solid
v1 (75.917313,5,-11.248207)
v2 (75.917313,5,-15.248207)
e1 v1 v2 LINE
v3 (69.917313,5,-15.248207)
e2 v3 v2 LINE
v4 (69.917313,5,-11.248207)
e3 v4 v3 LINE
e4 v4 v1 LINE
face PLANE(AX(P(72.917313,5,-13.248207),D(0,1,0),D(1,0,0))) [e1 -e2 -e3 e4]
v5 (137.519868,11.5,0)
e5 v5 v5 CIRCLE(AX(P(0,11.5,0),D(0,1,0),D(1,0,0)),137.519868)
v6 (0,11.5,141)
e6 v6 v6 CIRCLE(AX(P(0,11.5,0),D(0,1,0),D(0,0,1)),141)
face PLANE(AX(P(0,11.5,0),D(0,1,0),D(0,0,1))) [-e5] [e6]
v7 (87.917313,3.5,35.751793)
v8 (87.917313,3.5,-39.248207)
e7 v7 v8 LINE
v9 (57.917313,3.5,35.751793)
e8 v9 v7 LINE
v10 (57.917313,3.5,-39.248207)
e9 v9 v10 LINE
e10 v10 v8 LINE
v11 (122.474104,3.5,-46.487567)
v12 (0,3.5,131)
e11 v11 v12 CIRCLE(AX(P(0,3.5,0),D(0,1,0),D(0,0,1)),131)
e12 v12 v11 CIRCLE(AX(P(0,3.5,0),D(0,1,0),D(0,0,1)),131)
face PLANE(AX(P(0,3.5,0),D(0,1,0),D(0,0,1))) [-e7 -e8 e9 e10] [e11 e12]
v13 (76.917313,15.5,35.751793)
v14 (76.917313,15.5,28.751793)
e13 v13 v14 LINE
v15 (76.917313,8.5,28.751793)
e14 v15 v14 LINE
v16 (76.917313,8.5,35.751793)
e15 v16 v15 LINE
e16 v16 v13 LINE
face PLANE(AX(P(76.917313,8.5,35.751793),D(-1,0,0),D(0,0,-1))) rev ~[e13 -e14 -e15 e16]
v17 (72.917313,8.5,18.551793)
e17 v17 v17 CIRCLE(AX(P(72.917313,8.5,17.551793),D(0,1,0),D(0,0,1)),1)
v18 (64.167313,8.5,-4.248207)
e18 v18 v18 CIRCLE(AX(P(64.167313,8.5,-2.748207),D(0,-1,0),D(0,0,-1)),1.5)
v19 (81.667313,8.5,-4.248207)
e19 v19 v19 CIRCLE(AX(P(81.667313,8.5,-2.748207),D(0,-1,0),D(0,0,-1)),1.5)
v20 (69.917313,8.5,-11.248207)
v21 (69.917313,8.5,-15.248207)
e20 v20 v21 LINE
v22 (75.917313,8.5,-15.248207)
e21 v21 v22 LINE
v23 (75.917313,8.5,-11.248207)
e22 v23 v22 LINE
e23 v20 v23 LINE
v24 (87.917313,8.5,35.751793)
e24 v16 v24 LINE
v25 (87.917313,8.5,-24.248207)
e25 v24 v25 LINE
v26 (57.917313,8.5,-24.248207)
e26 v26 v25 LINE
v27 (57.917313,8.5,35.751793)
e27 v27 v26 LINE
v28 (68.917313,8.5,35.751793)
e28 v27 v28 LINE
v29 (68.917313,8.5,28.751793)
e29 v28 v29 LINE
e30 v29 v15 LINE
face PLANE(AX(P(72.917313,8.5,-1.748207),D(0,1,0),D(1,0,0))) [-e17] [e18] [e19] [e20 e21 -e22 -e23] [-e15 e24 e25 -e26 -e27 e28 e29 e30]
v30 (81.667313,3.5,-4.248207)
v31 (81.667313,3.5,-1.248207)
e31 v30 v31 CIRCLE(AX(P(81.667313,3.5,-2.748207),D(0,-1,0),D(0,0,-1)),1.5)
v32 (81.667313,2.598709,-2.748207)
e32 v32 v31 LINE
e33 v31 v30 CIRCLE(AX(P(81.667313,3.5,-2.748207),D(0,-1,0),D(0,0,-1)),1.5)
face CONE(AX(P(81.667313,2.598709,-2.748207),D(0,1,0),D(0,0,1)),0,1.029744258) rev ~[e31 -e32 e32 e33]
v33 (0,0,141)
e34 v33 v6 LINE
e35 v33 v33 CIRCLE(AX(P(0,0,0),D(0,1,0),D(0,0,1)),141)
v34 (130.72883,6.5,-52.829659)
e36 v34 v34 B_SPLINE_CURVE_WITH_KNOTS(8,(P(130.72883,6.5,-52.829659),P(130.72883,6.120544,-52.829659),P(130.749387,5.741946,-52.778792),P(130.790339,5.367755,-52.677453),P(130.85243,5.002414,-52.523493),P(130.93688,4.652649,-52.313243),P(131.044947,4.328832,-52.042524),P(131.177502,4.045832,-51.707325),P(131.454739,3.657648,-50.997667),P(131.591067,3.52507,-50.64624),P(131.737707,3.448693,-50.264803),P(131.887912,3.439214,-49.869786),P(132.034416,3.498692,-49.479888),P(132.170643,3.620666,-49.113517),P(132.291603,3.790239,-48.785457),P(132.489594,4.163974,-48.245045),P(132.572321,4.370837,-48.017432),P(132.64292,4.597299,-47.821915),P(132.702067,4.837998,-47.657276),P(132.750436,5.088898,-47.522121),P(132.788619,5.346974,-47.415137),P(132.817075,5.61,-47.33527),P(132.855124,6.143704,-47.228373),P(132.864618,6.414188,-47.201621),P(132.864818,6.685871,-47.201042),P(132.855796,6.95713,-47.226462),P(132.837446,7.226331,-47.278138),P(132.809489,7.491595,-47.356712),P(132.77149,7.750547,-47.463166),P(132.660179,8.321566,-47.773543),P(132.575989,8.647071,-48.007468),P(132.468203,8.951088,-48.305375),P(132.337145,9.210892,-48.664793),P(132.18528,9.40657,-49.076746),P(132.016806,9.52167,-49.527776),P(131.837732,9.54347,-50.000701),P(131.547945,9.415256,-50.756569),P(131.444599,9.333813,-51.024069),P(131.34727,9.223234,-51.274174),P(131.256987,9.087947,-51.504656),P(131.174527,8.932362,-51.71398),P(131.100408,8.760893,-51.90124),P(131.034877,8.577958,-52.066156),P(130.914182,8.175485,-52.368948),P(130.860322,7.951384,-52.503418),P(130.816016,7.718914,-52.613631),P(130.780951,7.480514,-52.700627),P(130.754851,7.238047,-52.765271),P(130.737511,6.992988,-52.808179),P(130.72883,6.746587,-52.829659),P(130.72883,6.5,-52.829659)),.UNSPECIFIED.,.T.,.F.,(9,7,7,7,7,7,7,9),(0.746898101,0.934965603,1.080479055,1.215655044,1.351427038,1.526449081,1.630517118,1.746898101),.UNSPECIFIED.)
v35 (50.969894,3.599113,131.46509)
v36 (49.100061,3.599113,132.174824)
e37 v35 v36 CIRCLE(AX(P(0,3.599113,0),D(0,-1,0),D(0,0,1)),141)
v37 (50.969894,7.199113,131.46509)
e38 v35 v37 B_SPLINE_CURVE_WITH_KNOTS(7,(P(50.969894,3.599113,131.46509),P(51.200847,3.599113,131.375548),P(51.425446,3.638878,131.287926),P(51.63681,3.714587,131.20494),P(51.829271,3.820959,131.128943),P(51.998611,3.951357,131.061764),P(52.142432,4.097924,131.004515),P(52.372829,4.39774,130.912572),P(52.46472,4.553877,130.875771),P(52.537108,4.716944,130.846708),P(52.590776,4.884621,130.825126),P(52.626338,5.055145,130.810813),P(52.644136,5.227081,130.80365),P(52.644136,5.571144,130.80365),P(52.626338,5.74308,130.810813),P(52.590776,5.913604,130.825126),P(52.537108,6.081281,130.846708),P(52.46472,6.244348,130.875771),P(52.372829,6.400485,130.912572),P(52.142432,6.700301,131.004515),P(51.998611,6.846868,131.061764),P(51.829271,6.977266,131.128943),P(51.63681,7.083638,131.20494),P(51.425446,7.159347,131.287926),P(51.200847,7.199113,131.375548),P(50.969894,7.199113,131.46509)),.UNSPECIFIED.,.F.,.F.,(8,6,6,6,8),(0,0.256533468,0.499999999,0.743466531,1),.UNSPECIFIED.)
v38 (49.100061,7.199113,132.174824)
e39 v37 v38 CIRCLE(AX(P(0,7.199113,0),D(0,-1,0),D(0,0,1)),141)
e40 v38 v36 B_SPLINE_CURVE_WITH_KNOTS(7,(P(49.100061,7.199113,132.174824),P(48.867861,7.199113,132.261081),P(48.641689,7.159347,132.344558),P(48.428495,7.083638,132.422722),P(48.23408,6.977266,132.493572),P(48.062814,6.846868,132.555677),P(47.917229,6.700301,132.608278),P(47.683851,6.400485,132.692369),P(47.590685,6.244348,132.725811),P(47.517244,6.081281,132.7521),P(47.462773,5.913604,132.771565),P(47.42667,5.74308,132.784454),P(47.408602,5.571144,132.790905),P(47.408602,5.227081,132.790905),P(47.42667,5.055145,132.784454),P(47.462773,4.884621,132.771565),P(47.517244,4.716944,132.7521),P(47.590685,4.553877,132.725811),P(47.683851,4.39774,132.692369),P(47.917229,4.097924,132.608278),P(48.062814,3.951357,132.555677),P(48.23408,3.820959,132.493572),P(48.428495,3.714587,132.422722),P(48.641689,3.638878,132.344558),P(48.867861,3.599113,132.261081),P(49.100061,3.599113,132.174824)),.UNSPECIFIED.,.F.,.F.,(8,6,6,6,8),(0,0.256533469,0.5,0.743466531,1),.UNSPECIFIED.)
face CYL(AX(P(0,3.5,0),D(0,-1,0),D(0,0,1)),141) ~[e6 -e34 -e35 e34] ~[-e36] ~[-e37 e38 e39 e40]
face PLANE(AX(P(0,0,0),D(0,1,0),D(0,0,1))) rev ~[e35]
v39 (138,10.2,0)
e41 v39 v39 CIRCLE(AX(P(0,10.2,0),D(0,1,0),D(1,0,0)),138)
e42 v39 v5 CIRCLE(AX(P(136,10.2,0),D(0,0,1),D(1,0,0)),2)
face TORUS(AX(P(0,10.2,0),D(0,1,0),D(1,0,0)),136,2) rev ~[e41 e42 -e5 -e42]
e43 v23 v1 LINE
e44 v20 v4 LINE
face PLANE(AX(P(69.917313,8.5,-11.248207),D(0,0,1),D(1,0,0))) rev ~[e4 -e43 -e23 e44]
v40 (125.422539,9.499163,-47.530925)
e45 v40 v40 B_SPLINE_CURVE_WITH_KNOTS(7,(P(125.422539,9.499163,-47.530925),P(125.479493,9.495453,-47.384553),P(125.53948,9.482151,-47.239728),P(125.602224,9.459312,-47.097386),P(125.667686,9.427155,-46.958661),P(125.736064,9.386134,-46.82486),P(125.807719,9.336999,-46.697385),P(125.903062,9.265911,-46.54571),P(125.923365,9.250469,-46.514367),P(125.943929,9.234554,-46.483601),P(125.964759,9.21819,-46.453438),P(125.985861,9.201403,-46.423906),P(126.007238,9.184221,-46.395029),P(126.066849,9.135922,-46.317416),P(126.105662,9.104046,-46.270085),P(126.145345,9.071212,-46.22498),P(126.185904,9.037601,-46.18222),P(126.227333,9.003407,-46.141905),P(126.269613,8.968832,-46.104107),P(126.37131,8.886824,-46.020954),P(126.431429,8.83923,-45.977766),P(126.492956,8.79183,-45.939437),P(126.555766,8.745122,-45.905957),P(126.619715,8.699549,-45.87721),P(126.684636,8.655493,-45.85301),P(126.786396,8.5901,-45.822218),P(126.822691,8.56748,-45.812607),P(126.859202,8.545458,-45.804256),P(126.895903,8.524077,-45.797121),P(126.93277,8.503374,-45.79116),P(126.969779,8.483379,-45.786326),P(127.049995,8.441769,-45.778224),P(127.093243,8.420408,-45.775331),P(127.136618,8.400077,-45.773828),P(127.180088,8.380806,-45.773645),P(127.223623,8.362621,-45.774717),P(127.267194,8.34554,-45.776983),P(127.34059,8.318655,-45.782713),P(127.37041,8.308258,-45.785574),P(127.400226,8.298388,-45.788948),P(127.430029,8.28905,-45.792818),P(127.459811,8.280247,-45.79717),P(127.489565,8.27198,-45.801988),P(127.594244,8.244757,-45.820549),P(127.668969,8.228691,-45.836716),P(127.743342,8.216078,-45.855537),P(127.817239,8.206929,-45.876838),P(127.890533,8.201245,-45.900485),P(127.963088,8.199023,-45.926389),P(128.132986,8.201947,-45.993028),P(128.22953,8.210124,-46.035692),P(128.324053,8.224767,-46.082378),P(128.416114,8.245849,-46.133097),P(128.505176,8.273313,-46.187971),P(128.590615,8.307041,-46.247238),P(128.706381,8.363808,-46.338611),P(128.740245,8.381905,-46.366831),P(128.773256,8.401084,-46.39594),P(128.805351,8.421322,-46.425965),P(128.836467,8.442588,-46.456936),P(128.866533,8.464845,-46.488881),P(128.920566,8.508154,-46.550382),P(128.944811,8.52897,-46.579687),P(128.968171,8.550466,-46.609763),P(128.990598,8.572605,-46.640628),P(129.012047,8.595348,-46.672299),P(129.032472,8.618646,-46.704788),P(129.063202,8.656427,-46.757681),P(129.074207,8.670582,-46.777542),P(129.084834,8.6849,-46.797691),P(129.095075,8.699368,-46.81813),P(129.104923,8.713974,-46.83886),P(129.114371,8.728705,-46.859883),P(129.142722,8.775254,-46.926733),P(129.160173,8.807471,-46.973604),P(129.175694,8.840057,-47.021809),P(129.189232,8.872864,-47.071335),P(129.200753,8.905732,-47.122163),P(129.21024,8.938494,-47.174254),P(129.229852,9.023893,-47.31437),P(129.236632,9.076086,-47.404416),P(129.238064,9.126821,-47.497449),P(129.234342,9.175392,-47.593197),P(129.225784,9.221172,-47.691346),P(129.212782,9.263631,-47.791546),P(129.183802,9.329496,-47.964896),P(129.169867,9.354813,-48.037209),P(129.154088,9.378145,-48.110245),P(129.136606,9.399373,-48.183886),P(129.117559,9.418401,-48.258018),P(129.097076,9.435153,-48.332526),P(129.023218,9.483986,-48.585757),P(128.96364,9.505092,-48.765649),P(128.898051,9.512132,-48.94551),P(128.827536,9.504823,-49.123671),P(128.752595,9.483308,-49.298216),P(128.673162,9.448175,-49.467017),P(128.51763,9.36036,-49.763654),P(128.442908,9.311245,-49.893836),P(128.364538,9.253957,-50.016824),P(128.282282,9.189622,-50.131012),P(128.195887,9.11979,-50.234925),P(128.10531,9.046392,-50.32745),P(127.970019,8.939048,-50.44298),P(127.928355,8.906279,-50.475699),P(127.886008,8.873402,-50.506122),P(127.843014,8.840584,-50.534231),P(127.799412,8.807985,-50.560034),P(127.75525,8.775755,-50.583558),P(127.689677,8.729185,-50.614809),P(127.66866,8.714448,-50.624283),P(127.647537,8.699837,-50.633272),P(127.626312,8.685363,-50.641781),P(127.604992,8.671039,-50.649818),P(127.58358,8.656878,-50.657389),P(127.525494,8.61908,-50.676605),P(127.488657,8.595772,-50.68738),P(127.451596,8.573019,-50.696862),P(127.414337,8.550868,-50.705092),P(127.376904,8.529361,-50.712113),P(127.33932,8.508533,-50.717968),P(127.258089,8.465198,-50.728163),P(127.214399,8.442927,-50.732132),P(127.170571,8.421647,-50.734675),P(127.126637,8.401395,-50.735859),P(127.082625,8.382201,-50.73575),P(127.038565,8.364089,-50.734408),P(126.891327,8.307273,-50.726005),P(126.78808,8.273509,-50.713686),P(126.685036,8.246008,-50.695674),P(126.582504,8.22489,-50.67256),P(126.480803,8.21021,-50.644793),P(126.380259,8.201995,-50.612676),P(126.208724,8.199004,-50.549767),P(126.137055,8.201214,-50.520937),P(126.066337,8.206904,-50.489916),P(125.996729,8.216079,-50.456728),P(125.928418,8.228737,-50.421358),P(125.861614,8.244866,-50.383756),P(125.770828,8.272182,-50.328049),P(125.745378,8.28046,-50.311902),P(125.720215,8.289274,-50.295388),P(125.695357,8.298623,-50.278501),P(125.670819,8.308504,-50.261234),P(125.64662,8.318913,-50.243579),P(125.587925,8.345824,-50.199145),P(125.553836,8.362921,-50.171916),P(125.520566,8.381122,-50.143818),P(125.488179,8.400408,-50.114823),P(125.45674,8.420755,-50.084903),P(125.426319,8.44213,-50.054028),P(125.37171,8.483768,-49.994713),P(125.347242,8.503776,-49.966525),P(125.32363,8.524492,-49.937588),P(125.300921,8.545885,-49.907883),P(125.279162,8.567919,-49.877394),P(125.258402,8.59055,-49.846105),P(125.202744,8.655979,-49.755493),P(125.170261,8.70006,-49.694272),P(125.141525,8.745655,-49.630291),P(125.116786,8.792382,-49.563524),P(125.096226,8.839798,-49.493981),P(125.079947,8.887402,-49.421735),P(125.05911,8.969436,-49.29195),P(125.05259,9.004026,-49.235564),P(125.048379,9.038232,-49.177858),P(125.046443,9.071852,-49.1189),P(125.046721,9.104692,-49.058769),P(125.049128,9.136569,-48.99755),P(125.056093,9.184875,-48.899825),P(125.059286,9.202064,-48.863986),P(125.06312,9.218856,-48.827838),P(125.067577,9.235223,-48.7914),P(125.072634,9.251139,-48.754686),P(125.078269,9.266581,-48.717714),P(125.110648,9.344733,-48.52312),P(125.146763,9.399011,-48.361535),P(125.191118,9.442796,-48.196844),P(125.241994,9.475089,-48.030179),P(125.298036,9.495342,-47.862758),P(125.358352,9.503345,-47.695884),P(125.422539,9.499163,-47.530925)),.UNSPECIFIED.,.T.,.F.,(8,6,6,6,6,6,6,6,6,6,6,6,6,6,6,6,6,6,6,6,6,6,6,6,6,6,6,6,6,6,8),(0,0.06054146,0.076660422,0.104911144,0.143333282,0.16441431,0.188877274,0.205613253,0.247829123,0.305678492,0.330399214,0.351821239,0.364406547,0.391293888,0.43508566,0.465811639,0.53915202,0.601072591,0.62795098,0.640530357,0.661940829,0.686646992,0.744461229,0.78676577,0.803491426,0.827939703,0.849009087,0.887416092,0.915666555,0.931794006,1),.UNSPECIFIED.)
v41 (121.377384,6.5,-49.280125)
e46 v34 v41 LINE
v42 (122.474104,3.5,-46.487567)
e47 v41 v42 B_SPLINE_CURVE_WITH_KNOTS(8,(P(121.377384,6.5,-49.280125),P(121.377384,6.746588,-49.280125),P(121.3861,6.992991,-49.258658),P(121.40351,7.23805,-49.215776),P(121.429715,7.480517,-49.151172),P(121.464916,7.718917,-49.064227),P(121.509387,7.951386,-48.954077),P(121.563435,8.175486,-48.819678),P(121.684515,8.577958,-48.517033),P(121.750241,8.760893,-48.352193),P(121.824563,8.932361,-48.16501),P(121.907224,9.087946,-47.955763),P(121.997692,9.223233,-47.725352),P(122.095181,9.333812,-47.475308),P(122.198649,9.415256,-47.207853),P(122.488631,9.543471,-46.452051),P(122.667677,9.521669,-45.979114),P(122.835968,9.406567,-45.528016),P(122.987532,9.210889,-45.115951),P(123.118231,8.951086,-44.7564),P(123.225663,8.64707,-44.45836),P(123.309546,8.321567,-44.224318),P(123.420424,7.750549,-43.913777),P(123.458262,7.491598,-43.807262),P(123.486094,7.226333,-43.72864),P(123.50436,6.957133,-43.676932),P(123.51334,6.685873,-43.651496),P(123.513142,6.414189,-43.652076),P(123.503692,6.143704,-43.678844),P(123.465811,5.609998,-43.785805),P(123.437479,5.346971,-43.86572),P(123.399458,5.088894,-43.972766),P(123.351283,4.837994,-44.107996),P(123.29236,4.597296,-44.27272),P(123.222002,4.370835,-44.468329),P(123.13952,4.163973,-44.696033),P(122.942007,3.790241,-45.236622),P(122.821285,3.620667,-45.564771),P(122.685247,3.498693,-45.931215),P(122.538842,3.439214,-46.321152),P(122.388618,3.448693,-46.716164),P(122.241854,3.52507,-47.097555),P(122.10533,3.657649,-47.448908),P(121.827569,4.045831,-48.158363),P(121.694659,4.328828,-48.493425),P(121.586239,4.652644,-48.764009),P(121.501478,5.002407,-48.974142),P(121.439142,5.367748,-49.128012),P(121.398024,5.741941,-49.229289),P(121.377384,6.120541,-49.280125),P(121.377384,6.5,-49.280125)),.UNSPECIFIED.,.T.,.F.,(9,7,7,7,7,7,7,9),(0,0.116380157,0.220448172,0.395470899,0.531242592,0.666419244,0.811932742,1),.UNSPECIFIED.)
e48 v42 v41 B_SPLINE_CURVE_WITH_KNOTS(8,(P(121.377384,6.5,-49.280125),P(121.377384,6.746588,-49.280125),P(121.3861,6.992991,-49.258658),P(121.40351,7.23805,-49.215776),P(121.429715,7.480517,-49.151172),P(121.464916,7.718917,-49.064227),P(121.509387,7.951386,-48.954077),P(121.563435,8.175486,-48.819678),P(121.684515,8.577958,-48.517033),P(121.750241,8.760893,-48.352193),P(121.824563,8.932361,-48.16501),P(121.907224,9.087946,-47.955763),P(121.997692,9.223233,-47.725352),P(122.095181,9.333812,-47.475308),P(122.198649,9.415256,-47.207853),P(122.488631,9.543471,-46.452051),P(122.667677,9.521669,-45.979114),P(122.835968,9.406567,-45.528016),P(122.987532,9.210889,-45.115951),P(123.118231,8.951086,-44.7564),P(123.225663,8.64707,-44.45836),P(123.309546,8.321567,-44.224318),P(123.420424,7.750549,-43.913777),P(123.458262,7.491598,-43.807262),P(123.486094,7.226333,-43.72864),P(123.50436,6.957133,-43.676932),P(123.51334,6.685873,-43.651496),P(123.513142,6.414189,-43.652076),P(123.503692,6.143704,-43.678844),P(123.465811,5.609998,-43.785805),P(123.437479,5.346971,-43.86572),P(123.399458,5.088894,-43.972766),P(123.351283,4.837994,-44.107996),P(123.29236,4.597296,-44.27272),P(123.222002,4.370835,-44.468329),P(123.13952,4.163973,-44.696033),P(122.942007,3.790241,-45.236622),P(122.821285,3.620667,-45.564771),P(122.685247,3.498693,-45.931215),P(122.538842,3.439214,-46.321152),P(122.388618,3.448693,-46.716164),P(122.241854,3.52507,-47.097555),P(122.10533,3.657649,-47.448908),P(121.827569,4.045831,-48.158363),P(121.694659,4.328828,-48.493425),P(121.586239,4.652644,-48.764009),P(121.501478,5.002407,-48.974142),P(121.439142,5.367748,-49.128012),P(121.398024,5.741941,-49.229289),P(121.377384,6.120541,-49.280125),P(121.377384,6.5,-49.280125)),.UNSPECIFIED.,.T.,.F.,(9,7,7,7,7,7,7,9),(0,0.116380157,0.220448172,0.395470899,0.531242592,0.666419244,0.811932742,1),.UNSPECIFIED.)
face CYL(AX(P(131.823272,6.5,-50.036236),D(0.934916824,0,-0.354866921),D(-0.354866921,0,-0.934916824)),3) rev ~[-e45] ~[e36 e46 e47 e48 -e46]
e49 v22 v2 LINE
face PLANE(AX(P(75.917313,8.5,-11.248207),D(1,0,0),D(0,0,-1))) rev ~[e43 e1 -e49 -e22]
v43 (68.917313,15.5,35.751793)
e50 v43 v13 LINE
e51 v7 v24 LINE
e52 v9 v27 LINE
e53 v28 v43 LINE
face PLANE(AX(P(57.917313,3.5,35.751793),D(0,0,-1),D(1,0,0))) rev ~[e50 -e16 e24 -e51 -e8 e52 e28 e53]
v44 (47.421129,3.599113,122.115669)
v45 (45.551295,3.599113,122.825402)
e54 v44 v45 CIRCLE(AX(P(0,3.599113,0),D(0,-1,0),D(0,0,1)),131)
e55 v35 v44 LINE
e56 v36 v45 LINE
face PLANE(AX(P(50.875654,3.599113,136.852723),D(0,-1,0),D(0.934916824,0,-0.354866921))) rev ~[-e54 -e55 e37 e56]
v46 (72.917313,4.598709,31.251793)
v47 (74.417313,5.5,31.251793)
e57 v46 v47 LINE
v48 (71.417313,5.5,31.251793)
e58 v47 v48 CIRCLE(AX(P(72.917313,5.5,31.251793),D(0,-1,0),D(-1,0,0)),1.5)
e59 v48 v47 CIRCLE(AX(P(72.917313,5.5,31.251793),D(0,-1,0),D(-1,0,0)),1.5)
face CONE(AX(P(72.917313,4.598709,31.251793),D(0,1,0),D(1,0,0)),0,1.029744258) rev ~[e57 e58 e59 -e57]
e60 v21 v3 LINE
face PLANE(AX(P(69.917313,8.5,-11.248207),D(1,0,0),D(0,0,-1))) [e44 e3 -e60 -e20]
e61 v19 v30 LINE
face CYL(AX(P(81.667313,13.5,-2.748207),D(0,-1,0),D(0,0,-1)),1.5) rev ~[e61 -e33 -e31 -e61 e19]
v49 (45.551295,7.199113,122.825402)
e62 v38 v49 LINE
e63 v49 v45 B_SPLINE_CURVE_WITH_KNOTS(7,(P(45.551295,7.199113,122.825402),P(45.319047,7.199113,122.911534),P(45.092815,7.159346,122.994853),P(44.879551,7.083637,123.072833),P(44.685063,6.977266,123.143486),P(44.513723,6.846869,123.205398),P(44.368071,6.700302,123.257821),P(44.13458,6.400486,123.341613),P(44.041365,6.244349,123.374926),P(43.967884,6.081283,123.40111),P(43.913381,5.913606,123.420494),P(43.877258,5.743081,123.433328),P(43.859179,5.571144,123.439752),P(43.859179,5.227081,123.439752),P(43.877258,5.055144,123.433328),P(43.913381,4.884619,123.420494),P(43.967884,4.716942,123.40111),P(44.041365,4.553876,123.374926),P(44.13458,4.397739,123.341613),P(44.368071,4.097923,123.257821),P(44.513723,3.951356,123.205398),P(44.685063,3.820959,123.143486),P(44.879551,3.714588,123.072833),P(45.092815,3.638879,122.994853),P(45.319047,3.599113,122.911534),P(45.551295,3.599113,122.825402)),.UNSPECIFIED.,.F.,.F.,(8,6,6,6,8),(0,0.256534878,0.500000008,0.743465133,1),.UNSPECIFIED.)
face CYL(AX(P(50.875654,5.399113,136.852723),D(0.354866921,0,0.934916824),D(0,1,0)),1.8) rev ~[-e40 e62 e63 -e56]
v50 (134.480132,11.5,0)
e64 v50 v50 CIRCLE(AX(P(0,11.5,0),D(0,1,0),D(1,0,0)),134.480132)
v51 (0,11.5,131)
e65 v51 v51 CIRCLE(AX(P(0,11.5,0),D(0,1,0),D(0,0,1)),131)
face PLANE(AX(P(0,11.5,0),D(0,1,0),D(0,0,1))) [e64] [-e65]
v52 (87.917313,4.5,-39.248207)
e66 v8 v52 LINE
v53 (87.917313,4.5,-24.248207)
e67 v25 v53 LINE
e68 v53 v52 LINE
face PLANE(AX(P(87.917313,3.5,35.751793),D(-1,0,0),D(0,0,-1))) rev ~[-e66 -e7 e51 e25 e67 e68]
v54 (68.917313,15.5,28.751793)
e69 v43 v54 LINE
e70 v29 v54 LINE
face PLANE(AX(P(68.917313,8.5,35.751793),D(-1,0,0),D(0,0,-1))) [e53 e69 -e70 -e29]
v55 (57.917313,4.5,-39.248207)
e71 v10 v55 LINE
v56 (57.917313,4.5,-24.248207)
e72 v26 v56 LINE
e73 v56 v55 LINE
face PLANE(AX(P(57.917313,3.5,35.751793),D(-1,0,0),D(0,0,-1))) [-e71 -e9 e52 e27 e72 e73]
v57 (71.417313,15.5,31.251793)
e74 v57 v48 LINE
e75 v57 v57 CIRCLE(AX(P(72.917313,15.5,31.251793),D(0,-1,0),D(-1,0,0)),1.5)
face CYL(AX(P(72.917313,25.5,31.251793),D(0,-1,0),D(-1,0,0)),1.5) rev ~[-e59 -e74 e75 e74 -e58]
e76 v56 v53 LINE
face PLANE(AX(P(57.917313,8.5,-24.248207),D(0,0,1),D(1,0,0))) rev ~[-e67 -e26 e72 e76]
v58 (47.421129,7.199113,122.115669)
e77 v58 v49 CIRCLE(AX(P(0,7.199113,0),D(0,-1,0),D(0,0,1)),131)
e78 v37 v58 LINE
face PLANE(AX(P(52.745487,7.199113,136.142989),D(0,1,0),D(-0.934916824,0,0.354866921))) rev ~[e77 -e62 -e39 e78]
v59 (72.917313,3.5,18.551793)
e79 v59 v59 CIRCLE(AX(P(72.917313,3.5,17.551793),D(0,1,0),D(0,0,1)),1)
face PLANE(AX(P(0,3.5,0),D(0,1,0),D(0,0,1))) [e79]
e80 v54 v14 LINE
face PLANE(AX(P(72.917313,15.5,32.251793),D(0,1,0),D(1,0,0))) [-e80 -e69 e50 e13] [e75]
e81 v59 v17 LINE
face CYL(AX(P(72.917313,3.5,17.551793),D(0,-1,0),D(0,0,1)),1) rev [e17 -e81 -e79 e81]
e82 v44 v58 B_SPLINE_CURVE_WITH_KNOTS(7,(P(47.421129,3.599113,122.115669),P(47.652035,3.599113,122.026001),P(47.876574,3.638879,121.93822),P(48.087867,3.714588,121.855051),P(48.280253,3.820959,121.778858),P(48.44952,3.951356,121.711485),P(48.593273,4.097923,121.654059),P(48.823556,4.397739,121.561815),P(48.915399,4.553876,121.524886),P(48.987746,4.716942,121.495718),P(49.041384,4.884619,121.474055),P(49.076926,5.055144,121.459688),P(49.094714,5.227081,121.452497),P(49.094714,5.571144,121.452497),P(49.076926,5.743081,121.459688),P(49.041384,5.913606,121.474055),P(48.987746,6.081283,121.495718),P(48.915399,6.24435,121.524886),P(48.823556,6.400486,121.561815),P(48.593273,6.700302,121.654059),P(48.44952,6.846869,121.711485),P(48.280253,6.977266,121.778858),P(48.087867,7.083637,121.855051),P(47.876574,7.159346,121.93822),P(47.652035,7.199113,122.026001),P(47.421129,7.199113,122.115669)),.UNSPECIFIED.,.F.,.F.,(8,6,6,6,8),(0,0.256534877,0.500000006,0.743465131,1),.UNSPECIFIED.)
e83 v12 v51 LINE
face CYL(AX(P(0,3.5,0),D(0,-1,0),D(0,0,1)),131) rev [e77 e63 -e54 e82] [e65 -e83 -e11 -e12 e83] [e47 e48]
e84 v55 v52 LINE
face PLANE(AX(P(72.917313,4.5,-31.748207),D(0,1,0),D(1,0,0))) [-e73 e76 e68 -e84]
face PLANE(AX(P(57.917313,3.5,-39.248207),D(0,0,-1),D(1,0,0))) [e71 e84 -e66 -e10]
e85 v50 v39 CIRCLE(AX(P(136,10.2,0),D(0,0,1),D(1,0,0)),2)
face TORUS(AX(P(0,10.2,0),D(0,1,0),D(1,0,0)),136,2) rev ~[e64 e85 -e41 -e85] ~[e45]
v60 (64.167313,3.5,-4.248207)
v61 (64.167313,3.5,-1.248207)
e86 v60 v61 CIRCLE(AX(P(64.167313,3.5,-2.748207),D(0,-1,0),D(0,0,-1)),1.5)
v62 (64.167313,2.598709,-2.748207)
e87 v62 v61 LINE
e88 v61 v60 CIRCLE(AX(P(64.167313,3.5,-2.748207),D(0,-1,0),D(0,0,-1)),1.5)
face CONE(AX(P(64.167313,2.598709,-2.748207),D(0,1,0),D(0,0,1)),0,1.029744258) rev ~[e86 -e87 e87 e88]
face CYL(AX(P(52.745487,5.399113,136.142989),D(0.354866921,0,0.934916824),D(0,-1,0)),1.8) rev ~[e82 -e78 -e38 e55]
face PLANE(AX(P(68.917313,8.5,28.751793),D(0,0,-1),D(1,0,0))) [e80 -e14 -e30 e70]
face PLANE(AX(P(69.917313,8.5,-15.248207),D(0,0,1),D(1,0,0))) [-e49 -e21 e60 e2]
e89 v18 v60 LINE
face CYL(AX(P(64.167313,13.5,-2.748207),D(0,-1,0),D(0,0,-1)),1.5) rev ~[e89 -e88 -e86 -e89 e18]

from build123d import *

# Parameters (mm, degrees)
SKETCH1_R                 = 141
BOSS_EXTRUDE1_DEPTH       = 3.5
SKETCH2_R                 = 141
SKETCH2_R_2               = 131
BOSS_EXTRUDE2_DEPTH       = 8
SKETCH5_R                 = 2
CUT_EXTRUDE3_DEPTH        = 5
CUT_EXTRUDE3_DEPTH_BACK   = 15
SKETCH7_W                 = 30
SKETCH7_H                 = 75
SKETCH7_R                 = 1
BOSS_EXTRUDE3_DEPTH       = 5
SKETCH8_W                 = 8
SKETCH8_H                 = 7
BOSS_EXTRUDE4_DEPTH       = 7
SKETCH9_W                 = 6
SKETCH9_H                 = 4
CUT_EXTRUDE6_DEPTH        = 3.5
F_3_0MM_DOWEL_HOLE2_D     = 3
F_3_0MM_DOWEL_HOLE2_DEPTH = 10
F_3_0MM_DOWEL_HOLE2_TIP   = 0.901290929
F_3_0MM_DOWEL_HOLE3_D     = 3
F_3_0MM_DOWEL_HOLE3_DEPTH = 5
F_3_0MM_DOWEL_HOLE3_TIP   = 0.901290929
SKETCH10_W                = 30
SKETCH10_H                = 15
CUT_EXTRUDE7_DEPTH        = 4
SKETCH15_R                = 3
CUT_EXTRUDE9_DEPTH        = 15


with BuildPart() as part:
    # Sketch1 → Boss-Extrude1 (new body)
    with BuildSketch(Plane(origin=(0, 0, 0), x_dir=(1, 0, 0), z_dir=(0, 1, 0))):
        Circle(SKETCH1_R)
    extrude(amount=BOSS_EXTRUDE1_DEPTH)

    # Sketch2 → Boss-Extrude2 (add)
    with BuildSketch(Plane(origin=(0, 3.5, 0), x_dir=(1, 0, 0), z_dir=(0, 1, 0))):
        Circle(SKETCH2_R)
        Circle(SKETCH2_R_2, mode=Mode.SUBTRACT)
    extrude(amount=BOSS_EXTRUDE2_DEPTH)

    # Cut-Sweep1: sweep along a path in Sketch3
    with BuildLine(Plane(origin=(0, 11.5, 0), x_dir=(1, 0, 0), z_dir=(0, 1, 0))) as cut_sweep1_path:
        CenterArc((0, 0), 136, 0, 360)
    # Sketch5 → Cut-Sweep1 (sweep, cut)
    with BuildSketch(Plane(origin=(0, 0, 0), x_dir=(0.35486692076616666, 0, 0.934916824399871), z_dir=(-0.9349168243998711, 0, 0.35486692076616666))):
        with Locations((136, 10.2)):
            Circle(SKETCH5_R)
    sweep(path=cut_sweep1_path.line, mode=Mode.SUBTRACT)

    # Sketch6 → Cut-Extrude3 (cut, two sides: drawn at the far end of the back side and taken through both)
    with BuildSketch(Plane(origin=(46.48756662, 0, 122.474103996), x_dir=(-0.9349168243998711, 0, 0.3548669207661666), z_dir=(-0.3548669207661666, 0, -0.9349168243998711)).offset(-CUT_EXTRUDE3_DEPTH_BACK)):
        with BuildLine():
            Line((1, 3.599112528), (-1, 3.599112528))
            ThreePointArc((-1, 3.599112528), (-2.8, 5.399112528), (-1, 7.199112528))
            Line((-1, 7.199112528), (1, 7.199112528))
            ThreePointArc((1, 7.199112528), (2.8, 5.399112528), (1, 3.599112528))
        make_face()
    extrude(amount=CUT_EXTRUDE3_DEPTH + CUT_EXTRUDE3_DEPTH_BACK, mode=Mode.SUBTRACT)

    # Sketch7 → Boss-Extrude3 (add)
    with BuildSketch(Plane(origin=(0, 3.5, 0), x_dir=(1, 0, 0), z_dir=(0, 1, 0))):
        with Locations((72.91731325, 1.748207258)):
            Rectangle(SKETCH7_W, SKETCH7_H)
        with Locations((72.91731325, -17.551792742)):
            Circle(SKETCH7_R, mode=Mode.SUBTRACT)
    extrude(amount=BOSS_EXTRUDE3_DEPTH)

    # Sketch8 → Boss-Extrude4 (add)
    with BuildSketch(Plane(origin=(0, 8.5, 0), x_dir=(1, 0, 0), z_dir=(0, 1, 0))):
        with Locations((72.91731325, -32.251792742)):
            Rectangle(SKETCH8_W, SKETCH8_H)
    extrude(amount=BOSS_EXTRUDE4_DEPTH)

    # Sketch9 → Cut-Extrude6 (cut)
    with BuildSketch(Plane(origin=(0, 8.5, 0), x_dir=(1, 0, 0), z_dir=(0, 1, 0))):
        with Locations((72.91731325, 13.248207258)):
            Rectangle(SKETCH9_W, SKETCH9_H)
    extrude(amount=-CUT_EXTRUDE6_DEPTH, mode=Mode.SUBTRACT)

    # Ø3.0mm Dowel Hole2
    with Locations(Plane(origin=(0, 15.5, 0), x_dir=(1, 0, 0), z_dir=(0, 1, 0))):
        with Locations((72.91731325, -31.251792742)):
            Hole(F_3_0MM_DOWEL_HOLE2_D / 2, depth=F_3_0MM_DOWEL_HOLE2_DEPTH)
            with Locations((0, 0, -(F_3_0MM_DOWEL_HOLE2_DEPTH + F_3_0MM_DOWEL_HOLE2_TIP / 2))):  # 118° drill point
                Cone(0, F_3_0MM_DOWEL_HOLE2_D / 2, F_3_0MM_DOWEL_HOLE2_TIP, mode=Mode.SUBTRACT)

    # Ø3.0mm Dowel Hole3
    with Locations(Plane(origin=(64.16731325, 8.5, -2.748207258), x_dir=(0, 0, 1), z_dir=(0, 1, 0))):
        with Locations((0, 0), (0, 17.5)):
            Hole(F_3_0MM_DOWEL_HOLE3_D / 2, depth=F_3_0MM_DOWEL_HOLE3_DEPTH)
            with Locations((0, 0, -(F_3_0MM_DOWEL_HOLE3_DEPTH + F_3_0MM_DOWEL_HOLE3_TIP / 2))):  # 118° drill point
                Cone(0, F_3_0MM_DOWEL_HOLE3_D / 2, F_3_0MM_DOWEL_HOLE3_TIP, mode=Mode.SUBTRACT)

    # Sketch10 → Cut-Extrude7 (cut)
    with BuildSketch(Plane(origin=(0, 8.5, 0), x_dir=(1, 0, 0), z_dir=(0, 1, 0))):
        with Locations((72.91731325, 31.748207258)):
            Rectangle(SKETCH10_W, SKETCH10_H)
    extrude(amount=-CUT_EXTRUDE7_DEPTH, mode=Mode.SUBTRACT)

    # Sketch15 → Cut-Extrude9 (cut)
    with BuildSketch(Plane(origin=(131.82327224, 0, -50.036235828), x_dir=(-0.3548669207661667, 0, -0.934916824399871), z_dir=(0.934916824399871, 0, -0.3548669207661667))):
        with Locations((0, 6.5)):
            Circle(SKETCH15_R)
    extrude(amount=-CUT_EXTRUDE9_DEPTH, mode=Mode.SUBTRACT)


solid = part.part
